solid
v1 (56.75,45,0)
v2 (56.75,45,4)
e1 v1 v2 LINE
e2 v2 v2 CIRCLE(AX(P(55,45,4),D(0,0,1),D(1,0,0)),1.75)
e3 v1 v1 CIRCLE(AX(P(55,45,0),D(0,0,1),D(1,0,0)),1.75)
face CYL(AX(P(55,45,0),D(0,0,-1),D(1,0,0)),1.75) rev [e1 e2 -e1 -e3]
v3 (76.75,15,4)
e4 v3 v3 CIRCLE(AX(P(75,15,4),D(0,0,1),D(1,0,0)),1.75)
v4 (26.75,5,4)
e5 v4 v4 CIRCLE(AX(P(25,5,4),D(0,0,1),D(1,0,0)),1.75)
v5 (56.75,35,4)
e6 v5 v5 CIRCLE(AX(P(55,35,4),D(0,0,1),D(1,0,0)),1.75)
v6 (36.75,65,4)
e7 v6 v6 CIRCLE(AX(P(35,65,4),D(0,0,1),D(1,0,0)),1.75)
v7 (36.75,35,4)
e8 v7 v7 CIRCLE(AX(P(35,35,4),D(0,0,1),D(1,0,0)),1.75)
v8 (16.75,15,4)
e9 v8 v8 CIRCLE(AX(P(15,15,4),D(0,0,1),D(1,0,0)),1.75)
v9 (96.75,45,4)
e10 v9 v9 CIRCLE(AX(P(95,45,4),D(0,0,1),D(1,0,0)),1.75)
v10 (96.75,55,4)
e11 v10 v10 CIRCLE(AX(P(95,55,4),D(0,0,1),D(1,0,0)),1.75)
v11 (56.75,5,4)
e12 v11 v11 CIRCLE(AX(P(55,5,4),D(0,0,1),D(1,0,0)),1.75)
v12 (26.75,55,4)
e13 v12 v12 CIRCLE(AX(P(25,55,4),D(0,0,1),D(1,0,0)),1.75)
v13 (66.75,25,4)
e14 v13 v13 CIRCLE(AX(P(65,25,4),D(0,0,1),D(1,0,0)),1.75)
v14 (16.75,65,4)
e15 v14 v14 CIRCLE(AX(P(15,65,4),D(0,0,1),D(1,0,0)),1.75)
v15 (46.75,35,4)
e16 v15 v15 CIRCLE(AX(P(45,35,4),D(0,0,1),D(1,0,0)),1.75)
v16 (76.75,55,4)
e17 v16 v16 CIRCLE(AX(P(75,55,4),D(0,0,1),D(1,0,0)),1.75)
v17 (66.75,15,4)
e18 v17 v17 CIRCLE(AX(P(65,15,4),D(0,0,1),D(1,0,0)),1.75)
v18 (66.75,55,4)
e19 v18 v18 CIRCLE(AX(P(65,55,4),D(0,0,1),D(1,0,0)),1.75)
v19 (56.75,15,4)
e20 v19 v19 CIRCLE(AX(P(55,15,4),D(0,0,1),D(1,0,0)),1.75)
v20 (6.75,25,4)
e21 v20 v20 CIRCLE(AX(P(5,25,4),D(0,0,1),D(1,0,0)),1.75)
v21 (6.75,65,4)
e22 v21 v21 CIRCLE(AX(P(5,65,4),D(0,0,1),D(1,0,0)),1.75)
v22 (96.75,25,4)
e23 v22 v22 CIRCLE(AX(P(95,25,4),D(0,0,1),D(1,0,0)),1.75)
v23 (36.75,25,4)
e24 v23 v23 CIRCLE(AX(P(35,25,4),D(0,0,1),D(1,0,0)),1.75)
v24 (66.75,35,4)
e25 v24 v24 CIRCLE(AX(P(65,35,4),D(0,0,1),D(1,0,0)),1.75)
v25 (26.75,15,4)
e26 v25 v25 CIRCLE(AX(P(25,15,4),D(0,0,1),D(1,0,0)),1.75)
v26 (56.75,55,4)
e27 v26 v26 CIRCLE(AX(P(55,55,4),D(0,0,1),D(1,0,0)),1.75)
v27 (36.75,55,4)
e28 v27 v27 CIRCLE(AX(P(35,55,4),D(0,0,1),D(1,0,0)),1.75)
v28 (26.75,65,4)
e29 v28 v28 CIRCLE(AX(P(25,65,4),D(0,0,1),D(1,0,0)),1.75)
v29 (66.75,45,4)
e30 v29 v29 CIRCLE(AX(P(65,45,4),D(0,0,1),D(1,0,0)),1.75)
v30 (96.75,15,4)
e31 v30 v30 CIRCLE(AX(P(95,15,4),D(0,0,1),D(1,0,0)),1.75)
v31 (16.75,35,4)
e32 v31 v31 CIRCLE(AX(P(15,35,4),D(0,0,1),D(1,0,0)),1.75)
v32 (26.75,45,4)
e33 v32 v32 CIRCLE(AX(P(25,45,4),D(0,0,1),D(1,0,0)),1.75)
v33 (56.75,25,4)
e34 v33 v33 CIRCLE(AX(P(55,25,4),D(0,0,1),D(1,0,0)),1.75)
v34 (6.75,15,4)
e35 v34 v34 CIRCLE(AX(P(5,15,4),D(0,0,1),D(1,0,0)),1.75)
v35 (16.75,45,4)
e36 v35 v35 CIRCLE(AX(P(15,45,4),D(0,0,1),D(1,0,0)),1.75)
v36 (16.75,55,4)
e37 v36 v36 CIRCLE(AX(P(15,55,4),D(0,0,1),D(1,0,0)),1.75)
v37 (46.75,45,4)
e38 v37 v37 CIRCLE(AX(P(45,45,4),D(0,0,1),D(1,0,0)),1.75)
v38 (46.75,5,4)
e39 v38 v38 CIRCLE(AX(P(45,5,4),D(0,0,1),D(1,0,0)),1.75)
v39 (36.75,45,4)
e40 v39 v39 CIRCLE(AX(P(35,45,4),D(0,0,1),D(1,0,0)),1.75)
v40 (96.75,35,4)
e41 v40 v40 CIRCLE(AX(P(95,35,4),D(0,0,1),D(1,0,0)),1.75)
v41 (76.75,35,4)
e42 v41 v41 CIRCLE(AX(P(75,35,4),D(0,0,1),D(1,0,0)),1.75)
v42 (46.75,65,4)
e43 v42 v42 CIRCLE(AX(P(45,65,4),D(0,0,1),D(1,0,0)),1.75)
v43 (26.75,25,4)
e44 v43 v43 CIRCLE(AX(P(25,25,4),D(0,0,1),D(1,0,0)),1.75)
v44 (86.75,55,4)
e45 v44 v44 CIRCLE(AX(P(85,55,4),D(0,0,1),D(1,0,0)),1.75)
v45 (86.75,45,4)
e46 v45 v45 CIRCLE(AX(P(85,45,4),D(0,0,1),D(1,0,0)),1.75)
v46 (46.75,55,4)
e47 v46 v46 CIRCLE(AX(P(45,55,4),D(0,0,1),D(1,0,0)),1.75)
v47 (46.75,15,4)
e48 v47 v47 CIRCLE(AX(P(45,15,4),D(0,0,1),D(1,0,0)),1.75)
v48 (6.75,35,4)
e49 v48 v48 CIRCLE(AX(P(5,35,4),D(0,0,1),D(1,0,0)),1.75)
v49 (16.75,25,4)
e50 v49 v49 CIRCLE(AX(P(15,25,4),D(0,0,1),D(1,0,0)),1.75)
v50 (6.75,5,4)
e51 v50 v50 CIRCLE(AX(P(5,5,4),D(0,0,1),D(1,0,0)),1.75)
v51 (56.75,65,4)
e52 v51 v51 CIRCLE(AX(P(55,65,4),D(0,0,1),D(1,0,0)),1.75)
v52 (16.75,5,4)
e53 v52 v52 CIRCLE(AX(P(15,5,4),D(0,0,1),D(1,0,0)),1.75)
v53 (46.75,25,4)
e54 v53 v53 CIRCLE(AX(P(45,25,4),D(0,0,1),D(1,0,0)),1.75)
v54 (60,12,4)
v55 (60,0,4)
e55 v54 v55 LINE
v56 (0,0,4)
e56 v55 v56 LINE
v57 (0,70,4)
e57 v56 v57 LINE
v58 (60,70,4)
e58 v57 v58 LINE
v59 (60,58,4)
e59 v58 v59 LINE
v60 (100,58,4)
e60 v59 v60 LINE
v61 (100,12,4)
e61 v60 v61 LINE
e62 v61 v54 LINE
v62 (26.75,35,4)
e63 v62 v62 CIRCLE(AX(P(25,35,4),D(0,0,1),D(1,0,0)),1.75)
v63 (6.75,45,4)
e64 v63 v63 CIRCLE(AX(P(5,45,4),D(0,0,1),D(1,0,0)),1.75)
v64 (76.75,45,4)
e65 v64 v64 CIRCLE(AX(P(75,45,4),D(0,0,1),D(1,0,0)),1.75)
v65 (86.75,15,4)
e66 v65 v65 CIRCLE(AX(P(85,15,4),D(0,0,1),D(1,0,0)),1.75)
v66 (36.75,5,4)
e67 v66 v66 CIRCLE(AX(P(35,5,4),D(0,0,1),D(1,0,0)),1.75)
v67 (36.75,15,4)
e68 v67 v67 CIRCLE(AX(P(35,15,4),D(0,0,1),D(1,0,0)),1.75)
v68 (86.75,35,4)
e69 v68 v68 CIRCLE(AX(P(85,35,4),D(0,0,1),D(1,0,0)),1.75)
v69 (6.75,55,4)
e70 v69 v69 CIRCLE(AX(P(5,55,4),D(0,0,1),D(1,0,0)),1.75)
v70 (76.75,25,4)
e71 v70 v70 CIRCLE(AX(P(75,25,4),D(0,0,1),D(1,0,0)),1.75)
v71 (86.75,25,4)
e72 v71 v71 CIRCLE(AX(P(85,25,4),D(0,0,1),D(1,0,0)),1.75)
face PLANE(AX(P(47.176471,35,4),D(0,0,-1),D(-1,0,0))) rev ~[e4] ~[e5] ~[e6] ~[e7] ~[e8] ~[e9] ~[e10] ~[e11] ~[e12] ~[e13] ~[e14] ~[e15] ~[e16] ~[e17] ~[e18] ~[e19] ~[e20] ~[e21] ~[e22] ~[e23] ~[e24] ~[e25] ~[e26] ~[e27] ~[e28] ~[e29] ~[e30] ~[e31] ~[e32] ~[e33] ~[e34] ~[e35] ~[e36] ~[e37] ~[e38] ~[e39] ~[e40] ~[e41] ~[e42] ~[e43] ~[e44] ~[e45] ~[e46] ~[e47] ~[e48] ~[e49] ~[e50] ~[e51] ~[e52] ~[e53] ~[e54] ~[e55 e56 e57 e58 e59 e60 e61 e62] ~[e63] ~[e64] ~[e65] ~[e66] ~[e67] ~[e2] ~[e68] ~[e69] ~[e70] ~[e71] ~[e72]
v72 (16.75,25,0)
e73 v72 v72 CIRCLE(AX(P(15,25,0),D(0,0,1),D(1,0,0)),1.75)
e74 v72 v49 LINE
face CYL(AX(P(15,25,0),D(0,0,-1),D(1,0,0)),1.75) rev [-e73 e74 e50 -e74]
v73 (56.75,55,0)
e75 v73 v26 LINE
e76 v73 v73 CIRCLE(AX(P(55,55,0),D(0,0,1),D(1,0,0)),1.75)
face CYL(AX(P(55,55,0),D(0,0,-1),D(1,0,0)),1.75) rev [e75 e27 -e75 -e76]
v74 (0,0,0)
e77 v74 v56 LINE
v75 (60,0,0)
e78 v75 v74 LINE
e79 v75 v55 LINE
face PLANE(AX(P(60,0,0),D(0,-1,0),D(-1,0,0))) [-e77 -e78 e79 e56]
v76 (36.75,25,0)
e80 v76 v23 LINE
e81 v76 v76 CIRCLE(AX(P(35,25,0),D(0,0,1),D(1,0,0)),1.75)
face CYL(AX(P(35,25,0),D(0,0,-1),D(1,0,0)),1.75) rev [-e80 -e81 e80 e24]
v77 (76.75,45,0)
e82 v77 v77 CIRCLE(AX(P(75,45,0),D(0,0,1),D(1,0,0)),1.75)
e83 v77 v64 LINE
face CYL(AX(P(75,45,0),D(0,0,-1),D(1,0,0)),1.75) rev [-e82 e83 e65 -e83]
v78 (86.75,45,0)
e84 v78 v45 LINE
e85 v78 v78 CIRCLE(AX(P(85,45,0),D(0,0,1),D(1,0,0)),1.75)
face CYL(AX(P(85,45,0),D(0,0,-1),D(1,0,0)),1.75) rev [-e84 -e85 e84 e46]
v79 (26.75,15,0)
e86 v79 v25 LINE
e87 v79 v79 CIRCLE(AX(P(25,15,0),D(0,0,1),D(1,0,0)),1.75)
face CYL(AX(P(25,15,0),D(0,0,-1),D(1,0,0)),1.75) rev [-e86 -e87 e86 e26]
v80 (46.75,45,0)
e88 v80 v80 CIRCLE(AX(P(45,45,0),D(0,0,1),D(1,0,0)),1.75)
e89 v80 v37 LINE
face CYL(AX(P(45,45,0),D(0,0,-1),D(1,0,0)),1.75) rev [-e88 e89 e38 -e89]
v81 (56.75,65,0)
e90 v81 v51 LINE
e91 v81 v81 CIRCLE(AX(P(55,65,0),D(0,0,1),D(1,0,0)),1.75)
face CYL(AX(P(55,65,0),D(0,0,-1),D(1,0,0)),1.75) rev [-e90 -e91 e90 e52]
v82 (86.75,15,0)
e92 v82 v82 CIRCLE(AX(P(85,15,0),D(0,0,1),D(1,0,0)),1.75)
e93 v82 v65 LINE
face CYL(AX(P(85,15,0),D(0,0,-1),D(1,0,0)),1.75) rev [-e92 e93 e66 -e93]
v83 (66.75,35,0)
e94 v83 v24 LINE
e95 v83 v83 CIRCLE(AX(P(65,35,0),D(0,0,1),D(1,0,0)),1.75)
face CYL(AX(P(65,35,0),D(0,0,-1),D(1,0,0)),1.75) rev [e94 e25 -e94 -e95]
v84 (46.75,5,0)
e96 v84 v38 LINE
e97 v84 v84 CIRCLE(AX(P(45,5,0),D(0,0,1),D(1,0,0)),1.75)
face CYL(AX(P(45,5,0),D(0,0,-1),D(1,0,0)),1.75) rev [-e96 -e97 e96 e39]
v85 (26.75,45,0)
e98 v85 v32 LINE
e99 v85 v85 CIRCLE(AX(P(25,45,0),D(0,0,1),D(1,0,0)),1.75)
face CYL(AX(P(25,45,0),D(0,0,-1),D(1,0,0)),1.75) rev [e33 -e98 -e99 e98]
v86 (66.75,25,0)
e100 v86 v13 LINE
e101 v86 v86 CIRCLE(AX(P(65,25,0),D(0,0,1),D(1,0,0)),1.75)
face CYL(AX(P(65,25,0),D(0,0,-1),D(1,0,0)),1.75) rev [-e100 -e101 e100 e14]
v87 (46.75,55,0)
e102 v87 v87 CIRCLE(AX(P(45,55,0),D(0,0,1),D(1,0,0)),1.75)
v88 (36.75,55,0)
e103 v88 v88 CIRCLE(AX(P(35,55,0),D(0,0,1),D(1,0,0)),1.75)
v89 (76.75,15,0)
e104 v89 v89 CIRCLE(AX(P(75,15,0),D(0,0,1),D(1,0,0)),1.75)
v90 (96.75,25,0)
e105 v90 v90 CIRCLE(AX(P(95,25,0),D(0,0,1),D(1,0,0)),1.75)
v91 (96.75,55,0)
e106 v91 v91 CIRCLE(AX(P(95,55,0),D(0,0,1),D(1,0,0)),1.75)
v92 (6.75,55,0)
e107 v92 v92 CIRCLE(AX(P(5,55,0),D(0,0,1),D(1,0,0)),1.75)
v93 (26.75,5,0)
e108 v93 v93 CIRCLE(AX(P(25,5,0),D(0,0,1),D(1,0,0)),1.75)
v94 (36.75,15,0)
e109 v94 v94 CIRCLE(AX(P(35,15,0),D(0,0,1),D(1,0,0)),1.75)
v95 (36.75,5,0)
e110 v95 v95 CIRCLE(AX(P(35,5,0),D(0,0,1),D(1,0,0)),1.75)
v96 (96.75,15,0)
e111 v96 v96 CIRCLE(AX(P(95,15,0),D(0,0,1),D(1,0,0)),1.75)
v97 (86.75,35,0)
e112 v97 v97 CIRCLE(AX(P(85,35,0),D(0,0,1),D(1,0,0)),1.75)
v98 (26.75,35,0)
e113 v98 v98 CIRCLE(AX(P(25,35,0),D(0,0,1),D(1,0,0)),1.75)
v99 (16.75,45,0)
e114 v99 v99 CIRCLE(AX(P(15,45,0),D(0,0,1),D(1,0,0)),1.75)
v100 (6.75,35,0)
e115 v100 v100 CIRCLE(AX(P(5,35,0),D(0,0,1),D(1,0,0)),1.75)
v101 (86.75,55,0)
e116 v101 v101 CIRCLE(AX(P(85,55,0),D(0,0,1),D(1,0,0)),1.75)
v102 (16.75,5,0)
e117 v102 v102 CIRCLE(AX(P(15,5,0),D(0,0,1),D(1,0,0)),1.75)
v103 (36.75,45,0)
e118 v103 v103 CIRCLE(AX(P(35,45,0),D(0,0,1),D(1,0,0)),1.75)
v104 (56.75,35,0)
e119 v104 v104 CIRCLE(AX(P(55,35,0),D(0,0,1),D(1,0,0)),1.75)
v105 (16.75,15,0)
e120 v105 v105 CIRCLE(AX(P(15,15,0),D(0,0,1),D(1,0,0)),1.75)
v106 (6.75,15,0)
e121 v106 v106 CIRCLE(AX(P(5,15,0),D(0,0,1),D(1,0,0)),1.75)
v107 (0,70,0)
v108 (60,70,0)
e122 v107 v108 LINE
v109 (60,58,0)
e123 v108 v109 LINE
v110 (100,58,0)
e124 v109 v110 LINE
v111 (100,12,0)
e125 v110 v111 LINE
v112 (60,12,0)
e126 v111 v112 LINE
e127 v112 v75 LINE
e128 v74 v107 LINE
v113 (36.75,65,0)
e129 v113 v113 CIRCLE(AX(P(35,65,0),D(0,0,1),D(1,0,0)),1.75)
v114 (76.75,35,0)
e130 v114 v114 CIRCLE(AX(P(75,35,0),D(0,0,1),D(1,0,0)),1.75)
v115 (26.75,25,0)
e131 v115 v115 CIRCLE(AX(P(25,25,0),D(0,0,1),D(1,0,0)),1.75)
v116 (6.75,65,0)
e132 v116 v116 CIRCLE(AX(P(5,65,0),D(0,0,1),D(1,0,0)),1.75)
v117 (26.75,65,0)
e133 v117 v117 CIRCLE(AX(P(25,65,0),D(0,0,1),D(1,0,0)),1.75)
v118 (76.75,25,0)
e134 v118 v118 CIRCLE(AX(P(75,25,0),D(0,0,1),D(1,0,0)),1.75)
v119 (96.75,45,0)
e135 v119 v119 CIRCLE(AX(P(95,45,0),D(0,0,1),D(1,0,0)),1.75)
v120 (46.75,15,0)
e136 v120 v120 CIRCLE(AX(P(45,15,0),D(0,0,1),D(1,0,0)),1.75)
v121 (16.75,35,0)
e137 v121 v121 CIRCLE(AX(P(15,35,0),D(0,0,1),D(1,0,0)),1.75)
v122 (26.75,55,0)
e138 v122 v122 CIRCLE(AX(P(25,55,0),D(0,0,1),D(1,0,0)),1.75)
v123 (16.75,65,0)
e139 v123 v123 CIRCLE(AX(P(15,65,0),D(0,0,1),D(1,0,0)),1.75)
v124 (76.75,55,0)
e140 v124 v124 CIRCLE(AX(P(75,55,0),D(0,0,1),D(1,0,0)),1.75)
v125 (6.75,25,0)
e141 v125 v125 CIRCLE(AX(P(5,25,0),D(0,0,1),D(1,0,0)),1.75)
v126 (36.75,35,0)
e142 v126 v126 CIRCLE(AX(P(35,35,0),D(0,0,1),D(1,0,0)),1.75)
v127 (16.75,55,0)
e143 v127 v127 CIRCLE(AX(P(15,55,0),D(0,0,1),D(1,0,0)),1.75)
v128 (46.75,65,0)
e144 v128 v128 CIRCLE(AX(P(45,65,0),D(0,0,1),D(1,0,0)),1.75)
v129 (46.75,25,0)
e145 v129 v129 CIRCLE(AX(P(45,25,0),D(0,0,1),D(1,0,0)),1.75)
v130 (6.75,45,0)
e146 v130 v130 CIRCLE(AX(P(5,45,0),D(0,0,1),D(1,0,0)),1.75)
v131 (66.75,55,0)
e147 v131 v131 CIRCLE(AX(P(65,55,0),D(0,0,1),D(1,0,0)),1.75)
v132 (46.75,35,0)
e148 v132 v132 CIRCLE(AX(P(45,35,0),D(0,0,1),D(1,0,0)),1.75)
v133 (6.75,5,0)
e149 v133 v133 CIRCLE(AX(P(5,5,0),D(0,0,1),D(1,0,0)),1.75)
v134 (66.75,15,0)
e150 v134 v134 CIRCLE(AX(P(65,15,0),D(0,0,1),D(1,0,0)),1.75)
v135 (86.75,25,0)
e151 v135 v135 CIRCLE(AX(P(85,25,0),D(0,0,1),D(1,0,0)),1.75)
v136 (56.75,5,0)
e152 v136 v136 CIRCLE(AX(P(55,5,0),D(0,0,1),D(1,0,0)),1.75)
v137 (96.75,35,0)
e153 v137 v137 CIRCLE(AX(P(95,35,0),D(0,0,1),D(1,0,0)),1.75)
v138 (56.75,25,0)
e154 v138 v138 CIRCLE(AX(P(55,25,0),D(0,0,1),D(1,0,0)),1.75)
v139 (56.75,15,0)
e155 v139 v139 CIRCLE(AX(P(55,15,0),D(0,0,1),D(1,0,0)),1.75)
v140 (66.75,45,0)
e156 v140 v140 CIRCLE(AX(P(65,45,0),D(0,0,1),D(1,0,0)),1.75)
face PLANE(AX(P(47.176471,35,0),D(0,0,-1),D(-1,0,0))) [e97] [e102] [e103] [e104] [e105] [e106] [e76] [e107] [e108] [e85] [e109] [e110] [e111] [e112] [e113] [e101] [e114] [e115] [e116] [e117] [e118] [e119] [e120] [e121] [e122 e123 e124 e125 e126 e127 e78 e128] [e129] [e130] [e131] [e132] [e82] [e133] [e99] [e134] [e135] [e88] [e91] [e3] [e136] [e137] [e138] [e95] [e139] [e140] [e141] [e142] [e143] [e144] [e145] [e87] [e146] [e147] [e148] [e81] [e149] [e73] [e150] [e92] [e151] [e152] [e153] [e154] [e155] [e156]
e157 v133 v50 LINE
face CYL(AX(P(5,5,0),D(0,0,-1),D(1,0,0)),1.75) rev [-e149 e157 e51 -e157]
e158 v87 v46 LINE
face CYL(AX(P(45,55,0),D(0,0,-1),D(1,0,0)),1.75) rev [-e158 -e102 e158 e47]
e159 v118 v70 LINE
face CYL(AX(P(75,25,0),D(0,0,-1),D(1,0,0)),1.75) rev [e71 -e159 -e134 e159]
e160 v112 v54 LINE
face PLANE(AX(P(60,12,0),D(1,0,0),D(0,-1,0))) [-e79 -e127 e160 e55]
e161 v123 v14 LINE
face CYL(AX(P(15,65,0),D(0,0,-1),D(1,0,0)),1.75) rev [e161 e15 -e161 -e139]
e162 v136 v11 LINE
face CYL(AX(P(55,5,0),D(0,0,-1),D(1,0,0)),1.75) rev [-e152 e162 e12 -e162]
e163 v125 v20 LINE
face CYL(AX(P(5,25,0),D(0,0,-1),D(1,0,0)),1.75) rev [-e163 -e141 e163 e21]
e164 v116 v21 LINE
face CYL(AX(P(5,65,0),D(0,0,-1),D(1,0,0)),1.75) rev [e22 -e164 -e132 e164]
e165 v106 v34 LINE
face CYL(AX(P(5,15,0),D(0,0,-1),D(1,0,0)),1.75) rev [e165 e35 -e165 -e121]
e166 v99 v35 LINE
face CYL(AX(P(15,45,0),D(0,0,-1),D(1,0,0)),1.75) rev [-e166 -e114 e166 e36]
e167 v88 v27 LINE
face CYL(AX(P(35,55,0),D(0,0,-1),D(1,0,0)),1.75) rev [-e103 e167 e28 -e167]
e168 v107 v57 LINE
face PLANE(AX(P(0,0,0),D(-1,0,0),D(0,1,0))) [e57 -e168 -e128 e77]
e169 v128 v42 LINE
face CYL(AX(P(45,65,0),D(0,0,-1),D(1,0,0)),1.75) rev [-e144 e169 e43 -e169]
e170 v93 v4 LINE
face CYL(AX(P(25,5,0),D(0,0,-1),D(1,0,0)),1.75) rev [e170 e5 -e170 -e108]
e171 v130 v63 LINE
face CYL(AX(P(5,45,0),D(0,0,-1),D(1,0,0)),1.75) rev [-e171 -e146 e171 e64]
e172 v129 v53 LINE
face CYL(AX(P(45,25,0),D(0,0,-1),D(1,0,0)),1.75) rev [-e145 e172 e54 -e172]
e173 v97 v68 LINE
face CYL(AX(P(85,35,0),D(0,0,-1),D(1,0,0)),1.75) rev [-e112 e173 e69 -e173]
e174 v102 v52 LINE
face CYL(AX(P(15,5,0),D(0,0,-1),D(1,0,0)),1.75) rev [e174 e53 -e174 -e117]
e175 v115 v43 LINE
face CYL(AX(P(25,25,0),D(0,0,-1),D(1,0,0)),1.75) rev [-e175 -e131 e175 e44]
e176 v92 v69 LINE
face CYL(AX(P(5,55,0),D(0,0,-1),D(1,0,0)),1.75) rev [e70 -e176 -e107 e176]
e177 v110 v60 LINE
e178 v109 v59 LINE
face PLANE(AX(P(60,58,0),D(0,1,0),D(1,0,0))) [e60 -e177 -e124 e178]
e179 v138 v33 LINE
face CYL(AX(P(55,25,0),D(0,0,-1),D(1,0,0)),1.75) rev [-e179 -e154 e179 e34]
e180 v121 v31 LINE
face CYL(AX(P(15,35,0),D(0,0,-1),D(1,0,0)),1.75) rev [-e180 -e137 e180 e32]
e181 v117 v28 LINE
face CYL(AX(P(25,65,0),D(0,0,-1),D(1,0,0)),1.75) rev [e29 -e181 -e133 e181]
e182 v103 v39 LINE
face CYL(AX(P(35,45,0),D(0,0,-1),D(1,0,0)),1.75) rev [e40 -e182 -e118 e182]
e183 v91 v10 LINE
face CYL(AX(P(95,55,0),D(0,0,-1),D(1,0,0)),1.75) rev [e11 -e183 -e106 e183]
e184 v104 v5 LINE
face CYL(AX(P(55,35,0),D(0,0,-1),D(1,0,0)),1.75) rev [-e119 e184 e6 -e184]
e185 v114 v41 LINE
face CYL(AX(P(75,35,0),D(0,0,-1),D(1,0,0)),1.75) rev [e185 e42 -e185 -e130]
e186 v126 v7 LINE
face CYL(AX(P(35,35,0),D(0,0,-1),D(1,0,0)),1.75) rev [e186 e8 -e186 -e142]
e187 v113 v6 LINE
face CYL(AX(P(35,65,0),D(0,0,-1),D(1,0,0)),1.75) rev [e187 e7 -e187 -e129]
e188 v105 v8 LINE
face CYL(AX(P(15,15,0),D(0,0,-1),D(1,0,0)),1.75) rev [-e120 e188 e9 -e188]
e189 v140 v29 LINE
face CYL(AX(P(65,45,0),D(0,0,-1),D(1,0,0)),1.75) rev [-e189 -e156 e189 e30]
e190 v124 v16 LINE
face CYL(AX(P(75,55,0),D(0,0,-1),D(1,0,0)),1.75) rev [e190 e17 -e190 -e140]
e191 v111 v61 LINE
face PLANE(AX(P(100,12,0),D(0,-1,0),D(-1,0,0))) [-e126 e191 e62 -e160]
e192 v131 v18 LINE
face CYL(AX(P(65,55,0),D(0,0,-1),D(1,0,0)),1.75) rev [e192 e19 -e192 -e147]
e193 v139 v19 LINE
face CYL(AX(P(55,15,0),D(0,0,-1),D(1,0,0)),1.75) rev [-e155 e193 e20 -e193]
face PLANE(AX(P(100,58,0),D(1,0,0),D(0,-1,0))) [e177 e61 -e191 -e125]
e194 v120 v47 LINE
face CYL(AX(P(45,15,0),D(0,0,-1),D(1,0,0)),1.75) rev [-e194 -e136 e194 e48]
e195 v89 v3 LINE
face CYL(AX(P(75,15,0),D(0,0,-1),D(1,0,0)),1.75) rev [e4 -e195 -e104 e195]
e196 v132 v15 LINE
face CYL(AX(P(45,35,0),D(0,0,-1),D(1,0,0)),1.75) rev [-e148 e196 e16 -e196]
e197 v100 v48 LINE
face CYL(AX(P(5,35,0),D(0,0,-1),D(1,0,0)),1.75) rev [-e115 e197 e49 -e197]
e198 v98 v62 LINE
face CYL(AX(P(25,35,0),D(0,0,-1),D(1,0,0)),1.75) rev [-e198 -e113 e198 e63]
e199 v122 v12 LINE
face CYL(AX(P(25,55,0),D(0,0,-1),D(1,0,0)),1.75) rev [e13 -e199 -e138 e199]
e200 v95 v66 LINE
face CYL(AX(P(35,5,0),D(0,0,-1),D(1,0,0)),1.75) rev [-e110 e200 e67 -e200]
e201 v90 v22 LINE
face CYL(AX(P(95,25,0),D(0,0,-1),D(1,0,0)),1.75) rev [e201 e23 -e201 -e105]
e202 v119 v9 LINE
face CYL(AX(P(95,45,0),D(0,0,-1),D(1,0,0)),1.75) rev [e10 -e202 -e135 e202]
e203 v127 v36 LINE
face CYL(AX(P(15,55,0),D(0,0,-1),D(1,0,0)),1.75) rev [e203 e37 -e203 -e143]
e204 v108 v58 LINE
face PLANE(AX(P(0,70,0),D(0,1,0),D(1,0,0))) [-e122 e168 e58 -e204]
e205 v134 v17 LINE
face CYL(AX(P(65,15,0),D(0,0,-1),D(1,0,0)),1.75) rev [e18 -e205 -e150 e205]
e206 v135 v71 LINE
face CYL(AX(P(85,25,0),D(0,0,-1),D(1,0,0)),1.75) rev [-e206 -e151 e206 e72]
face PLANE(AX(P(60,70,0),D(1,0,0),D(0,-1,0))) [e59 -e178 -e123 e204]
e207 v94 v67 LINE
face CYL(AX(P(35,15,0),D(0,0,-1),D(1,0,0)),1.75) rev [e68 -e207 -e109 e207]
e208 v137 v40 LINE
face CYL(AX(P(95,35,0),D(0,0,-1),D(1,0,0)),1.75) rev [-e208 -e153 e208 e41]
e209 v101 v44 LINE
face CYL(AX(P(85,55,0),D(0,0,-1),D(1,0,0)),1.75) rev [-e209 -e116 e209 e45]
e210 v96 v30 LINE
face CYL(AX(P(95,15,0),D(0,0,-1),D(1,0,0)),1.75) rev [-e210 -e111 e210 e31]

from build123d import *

# Parameters (mm, degrees)
ESQUISSE1_R        = 1.75
BOSS_EXTRU_1_DEPTH = 4


with BuildPart() as part:
    # Esquisse1 → Boss.-Extru.1 (new body)
    with BuildSketch(Plane.XY):
        Polygon((0, 0), (0, 70), (60, 70), (60, 58), (100, 58), (100, 12), (60, 12), (60, 0), align=None)
        with Locations((5, 5)):
            Circle(ESQUISSE1_R, mode=Mode.SUBTRACT)
        with Locations((15, 5)):
            Circle(ESQUISSE1_R, mode=Mode.SUBTRACT)
        with Locations((25, 5)):
            Circle(ESQUISSE1_R, mode=Mode.SUBTRACT)
        with Locations((35, 5)):
            Circle(ESQUISSE1_R, mode=Mode.SUBTRACT)
        with Locations((45, 5)):
            Circle(ESQUISSE1_R, mode=Mode.SUBTRACT)
        with Locations((55, 5)):
            Circle(ESQUISSE1_R, mode=Mode.SUBTRACT)
        with Locations((15, 15)):
            Circle(ESQUISSE1_R, mode=Mode.SUBTRACT)
        with Locations((25, 15)):
            Circle(ESQUISSE1_R, mode=Mode.SUBTRACT)
        with Locations((35, 15)):
            Circle(ESQUISSE1_R, mode=Mode.SUBTRACT)
        with Locations((45, 15)):
            Circle(ESQUISSE1_R, mode=Mode.SUBTRACT)
        with Locations((55, 15)):
            Circle(ESQUISSE1_R, mode=Mode.SUBTRACT)
        with Locations((65, 15)):
            Circle(ESQUISSE1_R, mode=Mode.SUBTRACT)
        with Locations((75, 15)):
            Circle(ESQUISSE1_R, mode=Mode.SUBTRACT)
        with Locations((85, 15)):
            Circle(ESQUISSE1_R, mode=Mode.SUBTRACT)
        with Locations((95, 15)):
            Circle(ESQUISSE1_R, mode=Mode.SUBTRACT)
        with Locations((15, 25)):
            Circle(ESQUISSE1_R, mode=Mode.SUBTRACT)
        with Locations((25, 25)):
            Circle(ESQUISSE1_R, mode=Mode.SUBTRACT)
        with Locations((35, 25)):
            Circle(ESQUISSE1_R, mode=Mode.SUBTRACT)
        with Locations((45, 25)):
            Circle(ESQUISSE1_R, mode=Mode.SUBTRACT)
        with Locations((55, 25)):
            Circle(ESQUISSE1_R, mode=Mode.SUBTRACT)
        with Locations((65, 25)):
            Circle(ESQUISSE1_R, mode=Mode.SUBTRACT)
        with Locations((75, 25)):
            Circle(ESQUISSE1_R, mode=Mode.SUBTRACT)
        with Locations((85, 25)):
            Circle(ESQUISSE1_R, mode=Mode.SUBTRACT)
        with Locations((95, 25)):
            Circle(ESQUISSE1_R, mode=Mode.SUBTRACT)
        with Locations((15, 35)):
            Circle(ESQUISSE1_R, mode=Mode.SUBTRACT)
        with Locations((25, 35)):
            Circle(ESQUISSE1_R, mode=Mode.SUBTRACT)
        with Locations((35, 35)):
            Circle(ESQUISSE1_R, mode=Mode.SUBTRACT)
        with Locations((45, 35)):
            Circle(ESQUISSE1_R, mode=Mode.SUBTRACT)
        with Locations((55, 35)):
            Circle(ESQUISSE1_R, mode=Mode.SUBTRACT)
        with Locations((65, 35)):
            Circle(ESQUISSE1_R, mode=Mode.SUBTRACT)
        with Locations((75, 35)):
            Circle(ESQUISSE1_R, mode=Mode.SUBTRACT)
        with Locations((85, 35)):
            Circle(ESQUISSE1_R, mode=Mode.SUBTRACT)
        with Locations((95, 35)):
            Circle(ESQUISSE1_R, mode=Mode.SUBTRACT)
        with Locations((15, 45)):
            Circle(ESQUISSE1_R, mode=Mode.SUBTRACT)
        with Locations((25, 45)):
            Circle(ESQUISSE1_R, mode=Mode.SUBTRACT)
        with Locations((35, 45)):
            Circle(ESQUISSE1_R, mode=Mode.SUBTRACT)
        with Locations((45, 45)):
            Circle(ESQUISSE1_R, mode=Mode.SUBTRACT)
        with Locations((55, 45)):
            Circle(ESQUISSE1_R, mode=Mode.SUBTRACT)
        with Locations((65, 45)):
            Circle(ESQUISSE1_R, mode=Mode.SUBTRACT)
        with Locations((75, 45)):
            Circle(ESQUISSE1_R, mode=Mode.SUBTRACT)
        with Locations((85, 45)):
            Circle(ESQUISSE1_R, mode=Mode.SUBTRACT)
        with Locations((95, 45)):
            Circle(ESQUISSE1_R, mode=Mode.SUBTRACT)
        with Locations((15, 55)):
            Circle(ESQUISSE1_R, mode=Mode.SUBTRACT)
        with Locations((25, 55)):
            Circle(ESQUISSE1_R, mode=Mode.SUBTRACT)
        with Locations((35, 55)):
            Circle(ESQUISSE1_R, mode=Mode.SUBTRACT)
        with Locations((45, 55)):
            Circle(ESQUISSE1_R, mode=Mode.SUBTRACT)
        with Locations((55, 55)):
            Circle(ESQUISSE1_R, mode=Mode.SUBTRACT)
        with Locations((65, 55)):
            Circle(ESQUISSE1_R, mode=Mode.SUBTRACT)
        with Locations((75, 55)):
            Circle(ESQUISSE1_R, mode=Mode.SUBTRACT)
        with Locations((85, 55)):
            Circle(ESQUISSE1_R, mode=Mode.SUBTRACT)
        with Locations((95, 55)):
            Circle(ESQUISSE1_R, mode=Mode.SUBTRACT)
        with Locations((15, 65)):
            Circle(ESQUISSE1_R, mode=Mode.SUBTRACT)
        with Locations((25, 65)):
            Circle(ESQUISSE1_R, mode=Mode.SUBTRACT)
        with Locations((35, 65)):
            Circle(ESQUISSE1_R, mode=Mode.SUBTRACT)
        with Locations((45, 65)):
            Circle(ESQUISSE1_R, mode=Mode.SUBTRACT)
        with Locations((55, 65)):
            Circle(ESQUISSE1_R, mode=Mode.SUBTRACT)
        with Locations((5, 15)):
            Circle(ESQUISSE1_R, mode=Mode.SUBTRACT)
        with Locations((5, 25)):
            Circle(ESQUISSE1_R, mode=Mode.SUBTRACT)
        with Locations((5, 35)):
            Circle(ESQUISSE1_R, mode=Mode.SUBTRACT)
        with Locations((5, 45)):
            Circle(ESQUISSE1_R, mode=Mode.SUBTRACT)
        with Locations((5, 55)):
            Circle(ESQUISSE1_R, mode=Mode.SUBTRACT)
        with Locations((5, 65)):
            Circle(ESQUISSE1_R, mode=Mode.SUBTRACT)
    extrude(amount=BOSS_EXTRU_1_DEPTH)


solid = part.part
